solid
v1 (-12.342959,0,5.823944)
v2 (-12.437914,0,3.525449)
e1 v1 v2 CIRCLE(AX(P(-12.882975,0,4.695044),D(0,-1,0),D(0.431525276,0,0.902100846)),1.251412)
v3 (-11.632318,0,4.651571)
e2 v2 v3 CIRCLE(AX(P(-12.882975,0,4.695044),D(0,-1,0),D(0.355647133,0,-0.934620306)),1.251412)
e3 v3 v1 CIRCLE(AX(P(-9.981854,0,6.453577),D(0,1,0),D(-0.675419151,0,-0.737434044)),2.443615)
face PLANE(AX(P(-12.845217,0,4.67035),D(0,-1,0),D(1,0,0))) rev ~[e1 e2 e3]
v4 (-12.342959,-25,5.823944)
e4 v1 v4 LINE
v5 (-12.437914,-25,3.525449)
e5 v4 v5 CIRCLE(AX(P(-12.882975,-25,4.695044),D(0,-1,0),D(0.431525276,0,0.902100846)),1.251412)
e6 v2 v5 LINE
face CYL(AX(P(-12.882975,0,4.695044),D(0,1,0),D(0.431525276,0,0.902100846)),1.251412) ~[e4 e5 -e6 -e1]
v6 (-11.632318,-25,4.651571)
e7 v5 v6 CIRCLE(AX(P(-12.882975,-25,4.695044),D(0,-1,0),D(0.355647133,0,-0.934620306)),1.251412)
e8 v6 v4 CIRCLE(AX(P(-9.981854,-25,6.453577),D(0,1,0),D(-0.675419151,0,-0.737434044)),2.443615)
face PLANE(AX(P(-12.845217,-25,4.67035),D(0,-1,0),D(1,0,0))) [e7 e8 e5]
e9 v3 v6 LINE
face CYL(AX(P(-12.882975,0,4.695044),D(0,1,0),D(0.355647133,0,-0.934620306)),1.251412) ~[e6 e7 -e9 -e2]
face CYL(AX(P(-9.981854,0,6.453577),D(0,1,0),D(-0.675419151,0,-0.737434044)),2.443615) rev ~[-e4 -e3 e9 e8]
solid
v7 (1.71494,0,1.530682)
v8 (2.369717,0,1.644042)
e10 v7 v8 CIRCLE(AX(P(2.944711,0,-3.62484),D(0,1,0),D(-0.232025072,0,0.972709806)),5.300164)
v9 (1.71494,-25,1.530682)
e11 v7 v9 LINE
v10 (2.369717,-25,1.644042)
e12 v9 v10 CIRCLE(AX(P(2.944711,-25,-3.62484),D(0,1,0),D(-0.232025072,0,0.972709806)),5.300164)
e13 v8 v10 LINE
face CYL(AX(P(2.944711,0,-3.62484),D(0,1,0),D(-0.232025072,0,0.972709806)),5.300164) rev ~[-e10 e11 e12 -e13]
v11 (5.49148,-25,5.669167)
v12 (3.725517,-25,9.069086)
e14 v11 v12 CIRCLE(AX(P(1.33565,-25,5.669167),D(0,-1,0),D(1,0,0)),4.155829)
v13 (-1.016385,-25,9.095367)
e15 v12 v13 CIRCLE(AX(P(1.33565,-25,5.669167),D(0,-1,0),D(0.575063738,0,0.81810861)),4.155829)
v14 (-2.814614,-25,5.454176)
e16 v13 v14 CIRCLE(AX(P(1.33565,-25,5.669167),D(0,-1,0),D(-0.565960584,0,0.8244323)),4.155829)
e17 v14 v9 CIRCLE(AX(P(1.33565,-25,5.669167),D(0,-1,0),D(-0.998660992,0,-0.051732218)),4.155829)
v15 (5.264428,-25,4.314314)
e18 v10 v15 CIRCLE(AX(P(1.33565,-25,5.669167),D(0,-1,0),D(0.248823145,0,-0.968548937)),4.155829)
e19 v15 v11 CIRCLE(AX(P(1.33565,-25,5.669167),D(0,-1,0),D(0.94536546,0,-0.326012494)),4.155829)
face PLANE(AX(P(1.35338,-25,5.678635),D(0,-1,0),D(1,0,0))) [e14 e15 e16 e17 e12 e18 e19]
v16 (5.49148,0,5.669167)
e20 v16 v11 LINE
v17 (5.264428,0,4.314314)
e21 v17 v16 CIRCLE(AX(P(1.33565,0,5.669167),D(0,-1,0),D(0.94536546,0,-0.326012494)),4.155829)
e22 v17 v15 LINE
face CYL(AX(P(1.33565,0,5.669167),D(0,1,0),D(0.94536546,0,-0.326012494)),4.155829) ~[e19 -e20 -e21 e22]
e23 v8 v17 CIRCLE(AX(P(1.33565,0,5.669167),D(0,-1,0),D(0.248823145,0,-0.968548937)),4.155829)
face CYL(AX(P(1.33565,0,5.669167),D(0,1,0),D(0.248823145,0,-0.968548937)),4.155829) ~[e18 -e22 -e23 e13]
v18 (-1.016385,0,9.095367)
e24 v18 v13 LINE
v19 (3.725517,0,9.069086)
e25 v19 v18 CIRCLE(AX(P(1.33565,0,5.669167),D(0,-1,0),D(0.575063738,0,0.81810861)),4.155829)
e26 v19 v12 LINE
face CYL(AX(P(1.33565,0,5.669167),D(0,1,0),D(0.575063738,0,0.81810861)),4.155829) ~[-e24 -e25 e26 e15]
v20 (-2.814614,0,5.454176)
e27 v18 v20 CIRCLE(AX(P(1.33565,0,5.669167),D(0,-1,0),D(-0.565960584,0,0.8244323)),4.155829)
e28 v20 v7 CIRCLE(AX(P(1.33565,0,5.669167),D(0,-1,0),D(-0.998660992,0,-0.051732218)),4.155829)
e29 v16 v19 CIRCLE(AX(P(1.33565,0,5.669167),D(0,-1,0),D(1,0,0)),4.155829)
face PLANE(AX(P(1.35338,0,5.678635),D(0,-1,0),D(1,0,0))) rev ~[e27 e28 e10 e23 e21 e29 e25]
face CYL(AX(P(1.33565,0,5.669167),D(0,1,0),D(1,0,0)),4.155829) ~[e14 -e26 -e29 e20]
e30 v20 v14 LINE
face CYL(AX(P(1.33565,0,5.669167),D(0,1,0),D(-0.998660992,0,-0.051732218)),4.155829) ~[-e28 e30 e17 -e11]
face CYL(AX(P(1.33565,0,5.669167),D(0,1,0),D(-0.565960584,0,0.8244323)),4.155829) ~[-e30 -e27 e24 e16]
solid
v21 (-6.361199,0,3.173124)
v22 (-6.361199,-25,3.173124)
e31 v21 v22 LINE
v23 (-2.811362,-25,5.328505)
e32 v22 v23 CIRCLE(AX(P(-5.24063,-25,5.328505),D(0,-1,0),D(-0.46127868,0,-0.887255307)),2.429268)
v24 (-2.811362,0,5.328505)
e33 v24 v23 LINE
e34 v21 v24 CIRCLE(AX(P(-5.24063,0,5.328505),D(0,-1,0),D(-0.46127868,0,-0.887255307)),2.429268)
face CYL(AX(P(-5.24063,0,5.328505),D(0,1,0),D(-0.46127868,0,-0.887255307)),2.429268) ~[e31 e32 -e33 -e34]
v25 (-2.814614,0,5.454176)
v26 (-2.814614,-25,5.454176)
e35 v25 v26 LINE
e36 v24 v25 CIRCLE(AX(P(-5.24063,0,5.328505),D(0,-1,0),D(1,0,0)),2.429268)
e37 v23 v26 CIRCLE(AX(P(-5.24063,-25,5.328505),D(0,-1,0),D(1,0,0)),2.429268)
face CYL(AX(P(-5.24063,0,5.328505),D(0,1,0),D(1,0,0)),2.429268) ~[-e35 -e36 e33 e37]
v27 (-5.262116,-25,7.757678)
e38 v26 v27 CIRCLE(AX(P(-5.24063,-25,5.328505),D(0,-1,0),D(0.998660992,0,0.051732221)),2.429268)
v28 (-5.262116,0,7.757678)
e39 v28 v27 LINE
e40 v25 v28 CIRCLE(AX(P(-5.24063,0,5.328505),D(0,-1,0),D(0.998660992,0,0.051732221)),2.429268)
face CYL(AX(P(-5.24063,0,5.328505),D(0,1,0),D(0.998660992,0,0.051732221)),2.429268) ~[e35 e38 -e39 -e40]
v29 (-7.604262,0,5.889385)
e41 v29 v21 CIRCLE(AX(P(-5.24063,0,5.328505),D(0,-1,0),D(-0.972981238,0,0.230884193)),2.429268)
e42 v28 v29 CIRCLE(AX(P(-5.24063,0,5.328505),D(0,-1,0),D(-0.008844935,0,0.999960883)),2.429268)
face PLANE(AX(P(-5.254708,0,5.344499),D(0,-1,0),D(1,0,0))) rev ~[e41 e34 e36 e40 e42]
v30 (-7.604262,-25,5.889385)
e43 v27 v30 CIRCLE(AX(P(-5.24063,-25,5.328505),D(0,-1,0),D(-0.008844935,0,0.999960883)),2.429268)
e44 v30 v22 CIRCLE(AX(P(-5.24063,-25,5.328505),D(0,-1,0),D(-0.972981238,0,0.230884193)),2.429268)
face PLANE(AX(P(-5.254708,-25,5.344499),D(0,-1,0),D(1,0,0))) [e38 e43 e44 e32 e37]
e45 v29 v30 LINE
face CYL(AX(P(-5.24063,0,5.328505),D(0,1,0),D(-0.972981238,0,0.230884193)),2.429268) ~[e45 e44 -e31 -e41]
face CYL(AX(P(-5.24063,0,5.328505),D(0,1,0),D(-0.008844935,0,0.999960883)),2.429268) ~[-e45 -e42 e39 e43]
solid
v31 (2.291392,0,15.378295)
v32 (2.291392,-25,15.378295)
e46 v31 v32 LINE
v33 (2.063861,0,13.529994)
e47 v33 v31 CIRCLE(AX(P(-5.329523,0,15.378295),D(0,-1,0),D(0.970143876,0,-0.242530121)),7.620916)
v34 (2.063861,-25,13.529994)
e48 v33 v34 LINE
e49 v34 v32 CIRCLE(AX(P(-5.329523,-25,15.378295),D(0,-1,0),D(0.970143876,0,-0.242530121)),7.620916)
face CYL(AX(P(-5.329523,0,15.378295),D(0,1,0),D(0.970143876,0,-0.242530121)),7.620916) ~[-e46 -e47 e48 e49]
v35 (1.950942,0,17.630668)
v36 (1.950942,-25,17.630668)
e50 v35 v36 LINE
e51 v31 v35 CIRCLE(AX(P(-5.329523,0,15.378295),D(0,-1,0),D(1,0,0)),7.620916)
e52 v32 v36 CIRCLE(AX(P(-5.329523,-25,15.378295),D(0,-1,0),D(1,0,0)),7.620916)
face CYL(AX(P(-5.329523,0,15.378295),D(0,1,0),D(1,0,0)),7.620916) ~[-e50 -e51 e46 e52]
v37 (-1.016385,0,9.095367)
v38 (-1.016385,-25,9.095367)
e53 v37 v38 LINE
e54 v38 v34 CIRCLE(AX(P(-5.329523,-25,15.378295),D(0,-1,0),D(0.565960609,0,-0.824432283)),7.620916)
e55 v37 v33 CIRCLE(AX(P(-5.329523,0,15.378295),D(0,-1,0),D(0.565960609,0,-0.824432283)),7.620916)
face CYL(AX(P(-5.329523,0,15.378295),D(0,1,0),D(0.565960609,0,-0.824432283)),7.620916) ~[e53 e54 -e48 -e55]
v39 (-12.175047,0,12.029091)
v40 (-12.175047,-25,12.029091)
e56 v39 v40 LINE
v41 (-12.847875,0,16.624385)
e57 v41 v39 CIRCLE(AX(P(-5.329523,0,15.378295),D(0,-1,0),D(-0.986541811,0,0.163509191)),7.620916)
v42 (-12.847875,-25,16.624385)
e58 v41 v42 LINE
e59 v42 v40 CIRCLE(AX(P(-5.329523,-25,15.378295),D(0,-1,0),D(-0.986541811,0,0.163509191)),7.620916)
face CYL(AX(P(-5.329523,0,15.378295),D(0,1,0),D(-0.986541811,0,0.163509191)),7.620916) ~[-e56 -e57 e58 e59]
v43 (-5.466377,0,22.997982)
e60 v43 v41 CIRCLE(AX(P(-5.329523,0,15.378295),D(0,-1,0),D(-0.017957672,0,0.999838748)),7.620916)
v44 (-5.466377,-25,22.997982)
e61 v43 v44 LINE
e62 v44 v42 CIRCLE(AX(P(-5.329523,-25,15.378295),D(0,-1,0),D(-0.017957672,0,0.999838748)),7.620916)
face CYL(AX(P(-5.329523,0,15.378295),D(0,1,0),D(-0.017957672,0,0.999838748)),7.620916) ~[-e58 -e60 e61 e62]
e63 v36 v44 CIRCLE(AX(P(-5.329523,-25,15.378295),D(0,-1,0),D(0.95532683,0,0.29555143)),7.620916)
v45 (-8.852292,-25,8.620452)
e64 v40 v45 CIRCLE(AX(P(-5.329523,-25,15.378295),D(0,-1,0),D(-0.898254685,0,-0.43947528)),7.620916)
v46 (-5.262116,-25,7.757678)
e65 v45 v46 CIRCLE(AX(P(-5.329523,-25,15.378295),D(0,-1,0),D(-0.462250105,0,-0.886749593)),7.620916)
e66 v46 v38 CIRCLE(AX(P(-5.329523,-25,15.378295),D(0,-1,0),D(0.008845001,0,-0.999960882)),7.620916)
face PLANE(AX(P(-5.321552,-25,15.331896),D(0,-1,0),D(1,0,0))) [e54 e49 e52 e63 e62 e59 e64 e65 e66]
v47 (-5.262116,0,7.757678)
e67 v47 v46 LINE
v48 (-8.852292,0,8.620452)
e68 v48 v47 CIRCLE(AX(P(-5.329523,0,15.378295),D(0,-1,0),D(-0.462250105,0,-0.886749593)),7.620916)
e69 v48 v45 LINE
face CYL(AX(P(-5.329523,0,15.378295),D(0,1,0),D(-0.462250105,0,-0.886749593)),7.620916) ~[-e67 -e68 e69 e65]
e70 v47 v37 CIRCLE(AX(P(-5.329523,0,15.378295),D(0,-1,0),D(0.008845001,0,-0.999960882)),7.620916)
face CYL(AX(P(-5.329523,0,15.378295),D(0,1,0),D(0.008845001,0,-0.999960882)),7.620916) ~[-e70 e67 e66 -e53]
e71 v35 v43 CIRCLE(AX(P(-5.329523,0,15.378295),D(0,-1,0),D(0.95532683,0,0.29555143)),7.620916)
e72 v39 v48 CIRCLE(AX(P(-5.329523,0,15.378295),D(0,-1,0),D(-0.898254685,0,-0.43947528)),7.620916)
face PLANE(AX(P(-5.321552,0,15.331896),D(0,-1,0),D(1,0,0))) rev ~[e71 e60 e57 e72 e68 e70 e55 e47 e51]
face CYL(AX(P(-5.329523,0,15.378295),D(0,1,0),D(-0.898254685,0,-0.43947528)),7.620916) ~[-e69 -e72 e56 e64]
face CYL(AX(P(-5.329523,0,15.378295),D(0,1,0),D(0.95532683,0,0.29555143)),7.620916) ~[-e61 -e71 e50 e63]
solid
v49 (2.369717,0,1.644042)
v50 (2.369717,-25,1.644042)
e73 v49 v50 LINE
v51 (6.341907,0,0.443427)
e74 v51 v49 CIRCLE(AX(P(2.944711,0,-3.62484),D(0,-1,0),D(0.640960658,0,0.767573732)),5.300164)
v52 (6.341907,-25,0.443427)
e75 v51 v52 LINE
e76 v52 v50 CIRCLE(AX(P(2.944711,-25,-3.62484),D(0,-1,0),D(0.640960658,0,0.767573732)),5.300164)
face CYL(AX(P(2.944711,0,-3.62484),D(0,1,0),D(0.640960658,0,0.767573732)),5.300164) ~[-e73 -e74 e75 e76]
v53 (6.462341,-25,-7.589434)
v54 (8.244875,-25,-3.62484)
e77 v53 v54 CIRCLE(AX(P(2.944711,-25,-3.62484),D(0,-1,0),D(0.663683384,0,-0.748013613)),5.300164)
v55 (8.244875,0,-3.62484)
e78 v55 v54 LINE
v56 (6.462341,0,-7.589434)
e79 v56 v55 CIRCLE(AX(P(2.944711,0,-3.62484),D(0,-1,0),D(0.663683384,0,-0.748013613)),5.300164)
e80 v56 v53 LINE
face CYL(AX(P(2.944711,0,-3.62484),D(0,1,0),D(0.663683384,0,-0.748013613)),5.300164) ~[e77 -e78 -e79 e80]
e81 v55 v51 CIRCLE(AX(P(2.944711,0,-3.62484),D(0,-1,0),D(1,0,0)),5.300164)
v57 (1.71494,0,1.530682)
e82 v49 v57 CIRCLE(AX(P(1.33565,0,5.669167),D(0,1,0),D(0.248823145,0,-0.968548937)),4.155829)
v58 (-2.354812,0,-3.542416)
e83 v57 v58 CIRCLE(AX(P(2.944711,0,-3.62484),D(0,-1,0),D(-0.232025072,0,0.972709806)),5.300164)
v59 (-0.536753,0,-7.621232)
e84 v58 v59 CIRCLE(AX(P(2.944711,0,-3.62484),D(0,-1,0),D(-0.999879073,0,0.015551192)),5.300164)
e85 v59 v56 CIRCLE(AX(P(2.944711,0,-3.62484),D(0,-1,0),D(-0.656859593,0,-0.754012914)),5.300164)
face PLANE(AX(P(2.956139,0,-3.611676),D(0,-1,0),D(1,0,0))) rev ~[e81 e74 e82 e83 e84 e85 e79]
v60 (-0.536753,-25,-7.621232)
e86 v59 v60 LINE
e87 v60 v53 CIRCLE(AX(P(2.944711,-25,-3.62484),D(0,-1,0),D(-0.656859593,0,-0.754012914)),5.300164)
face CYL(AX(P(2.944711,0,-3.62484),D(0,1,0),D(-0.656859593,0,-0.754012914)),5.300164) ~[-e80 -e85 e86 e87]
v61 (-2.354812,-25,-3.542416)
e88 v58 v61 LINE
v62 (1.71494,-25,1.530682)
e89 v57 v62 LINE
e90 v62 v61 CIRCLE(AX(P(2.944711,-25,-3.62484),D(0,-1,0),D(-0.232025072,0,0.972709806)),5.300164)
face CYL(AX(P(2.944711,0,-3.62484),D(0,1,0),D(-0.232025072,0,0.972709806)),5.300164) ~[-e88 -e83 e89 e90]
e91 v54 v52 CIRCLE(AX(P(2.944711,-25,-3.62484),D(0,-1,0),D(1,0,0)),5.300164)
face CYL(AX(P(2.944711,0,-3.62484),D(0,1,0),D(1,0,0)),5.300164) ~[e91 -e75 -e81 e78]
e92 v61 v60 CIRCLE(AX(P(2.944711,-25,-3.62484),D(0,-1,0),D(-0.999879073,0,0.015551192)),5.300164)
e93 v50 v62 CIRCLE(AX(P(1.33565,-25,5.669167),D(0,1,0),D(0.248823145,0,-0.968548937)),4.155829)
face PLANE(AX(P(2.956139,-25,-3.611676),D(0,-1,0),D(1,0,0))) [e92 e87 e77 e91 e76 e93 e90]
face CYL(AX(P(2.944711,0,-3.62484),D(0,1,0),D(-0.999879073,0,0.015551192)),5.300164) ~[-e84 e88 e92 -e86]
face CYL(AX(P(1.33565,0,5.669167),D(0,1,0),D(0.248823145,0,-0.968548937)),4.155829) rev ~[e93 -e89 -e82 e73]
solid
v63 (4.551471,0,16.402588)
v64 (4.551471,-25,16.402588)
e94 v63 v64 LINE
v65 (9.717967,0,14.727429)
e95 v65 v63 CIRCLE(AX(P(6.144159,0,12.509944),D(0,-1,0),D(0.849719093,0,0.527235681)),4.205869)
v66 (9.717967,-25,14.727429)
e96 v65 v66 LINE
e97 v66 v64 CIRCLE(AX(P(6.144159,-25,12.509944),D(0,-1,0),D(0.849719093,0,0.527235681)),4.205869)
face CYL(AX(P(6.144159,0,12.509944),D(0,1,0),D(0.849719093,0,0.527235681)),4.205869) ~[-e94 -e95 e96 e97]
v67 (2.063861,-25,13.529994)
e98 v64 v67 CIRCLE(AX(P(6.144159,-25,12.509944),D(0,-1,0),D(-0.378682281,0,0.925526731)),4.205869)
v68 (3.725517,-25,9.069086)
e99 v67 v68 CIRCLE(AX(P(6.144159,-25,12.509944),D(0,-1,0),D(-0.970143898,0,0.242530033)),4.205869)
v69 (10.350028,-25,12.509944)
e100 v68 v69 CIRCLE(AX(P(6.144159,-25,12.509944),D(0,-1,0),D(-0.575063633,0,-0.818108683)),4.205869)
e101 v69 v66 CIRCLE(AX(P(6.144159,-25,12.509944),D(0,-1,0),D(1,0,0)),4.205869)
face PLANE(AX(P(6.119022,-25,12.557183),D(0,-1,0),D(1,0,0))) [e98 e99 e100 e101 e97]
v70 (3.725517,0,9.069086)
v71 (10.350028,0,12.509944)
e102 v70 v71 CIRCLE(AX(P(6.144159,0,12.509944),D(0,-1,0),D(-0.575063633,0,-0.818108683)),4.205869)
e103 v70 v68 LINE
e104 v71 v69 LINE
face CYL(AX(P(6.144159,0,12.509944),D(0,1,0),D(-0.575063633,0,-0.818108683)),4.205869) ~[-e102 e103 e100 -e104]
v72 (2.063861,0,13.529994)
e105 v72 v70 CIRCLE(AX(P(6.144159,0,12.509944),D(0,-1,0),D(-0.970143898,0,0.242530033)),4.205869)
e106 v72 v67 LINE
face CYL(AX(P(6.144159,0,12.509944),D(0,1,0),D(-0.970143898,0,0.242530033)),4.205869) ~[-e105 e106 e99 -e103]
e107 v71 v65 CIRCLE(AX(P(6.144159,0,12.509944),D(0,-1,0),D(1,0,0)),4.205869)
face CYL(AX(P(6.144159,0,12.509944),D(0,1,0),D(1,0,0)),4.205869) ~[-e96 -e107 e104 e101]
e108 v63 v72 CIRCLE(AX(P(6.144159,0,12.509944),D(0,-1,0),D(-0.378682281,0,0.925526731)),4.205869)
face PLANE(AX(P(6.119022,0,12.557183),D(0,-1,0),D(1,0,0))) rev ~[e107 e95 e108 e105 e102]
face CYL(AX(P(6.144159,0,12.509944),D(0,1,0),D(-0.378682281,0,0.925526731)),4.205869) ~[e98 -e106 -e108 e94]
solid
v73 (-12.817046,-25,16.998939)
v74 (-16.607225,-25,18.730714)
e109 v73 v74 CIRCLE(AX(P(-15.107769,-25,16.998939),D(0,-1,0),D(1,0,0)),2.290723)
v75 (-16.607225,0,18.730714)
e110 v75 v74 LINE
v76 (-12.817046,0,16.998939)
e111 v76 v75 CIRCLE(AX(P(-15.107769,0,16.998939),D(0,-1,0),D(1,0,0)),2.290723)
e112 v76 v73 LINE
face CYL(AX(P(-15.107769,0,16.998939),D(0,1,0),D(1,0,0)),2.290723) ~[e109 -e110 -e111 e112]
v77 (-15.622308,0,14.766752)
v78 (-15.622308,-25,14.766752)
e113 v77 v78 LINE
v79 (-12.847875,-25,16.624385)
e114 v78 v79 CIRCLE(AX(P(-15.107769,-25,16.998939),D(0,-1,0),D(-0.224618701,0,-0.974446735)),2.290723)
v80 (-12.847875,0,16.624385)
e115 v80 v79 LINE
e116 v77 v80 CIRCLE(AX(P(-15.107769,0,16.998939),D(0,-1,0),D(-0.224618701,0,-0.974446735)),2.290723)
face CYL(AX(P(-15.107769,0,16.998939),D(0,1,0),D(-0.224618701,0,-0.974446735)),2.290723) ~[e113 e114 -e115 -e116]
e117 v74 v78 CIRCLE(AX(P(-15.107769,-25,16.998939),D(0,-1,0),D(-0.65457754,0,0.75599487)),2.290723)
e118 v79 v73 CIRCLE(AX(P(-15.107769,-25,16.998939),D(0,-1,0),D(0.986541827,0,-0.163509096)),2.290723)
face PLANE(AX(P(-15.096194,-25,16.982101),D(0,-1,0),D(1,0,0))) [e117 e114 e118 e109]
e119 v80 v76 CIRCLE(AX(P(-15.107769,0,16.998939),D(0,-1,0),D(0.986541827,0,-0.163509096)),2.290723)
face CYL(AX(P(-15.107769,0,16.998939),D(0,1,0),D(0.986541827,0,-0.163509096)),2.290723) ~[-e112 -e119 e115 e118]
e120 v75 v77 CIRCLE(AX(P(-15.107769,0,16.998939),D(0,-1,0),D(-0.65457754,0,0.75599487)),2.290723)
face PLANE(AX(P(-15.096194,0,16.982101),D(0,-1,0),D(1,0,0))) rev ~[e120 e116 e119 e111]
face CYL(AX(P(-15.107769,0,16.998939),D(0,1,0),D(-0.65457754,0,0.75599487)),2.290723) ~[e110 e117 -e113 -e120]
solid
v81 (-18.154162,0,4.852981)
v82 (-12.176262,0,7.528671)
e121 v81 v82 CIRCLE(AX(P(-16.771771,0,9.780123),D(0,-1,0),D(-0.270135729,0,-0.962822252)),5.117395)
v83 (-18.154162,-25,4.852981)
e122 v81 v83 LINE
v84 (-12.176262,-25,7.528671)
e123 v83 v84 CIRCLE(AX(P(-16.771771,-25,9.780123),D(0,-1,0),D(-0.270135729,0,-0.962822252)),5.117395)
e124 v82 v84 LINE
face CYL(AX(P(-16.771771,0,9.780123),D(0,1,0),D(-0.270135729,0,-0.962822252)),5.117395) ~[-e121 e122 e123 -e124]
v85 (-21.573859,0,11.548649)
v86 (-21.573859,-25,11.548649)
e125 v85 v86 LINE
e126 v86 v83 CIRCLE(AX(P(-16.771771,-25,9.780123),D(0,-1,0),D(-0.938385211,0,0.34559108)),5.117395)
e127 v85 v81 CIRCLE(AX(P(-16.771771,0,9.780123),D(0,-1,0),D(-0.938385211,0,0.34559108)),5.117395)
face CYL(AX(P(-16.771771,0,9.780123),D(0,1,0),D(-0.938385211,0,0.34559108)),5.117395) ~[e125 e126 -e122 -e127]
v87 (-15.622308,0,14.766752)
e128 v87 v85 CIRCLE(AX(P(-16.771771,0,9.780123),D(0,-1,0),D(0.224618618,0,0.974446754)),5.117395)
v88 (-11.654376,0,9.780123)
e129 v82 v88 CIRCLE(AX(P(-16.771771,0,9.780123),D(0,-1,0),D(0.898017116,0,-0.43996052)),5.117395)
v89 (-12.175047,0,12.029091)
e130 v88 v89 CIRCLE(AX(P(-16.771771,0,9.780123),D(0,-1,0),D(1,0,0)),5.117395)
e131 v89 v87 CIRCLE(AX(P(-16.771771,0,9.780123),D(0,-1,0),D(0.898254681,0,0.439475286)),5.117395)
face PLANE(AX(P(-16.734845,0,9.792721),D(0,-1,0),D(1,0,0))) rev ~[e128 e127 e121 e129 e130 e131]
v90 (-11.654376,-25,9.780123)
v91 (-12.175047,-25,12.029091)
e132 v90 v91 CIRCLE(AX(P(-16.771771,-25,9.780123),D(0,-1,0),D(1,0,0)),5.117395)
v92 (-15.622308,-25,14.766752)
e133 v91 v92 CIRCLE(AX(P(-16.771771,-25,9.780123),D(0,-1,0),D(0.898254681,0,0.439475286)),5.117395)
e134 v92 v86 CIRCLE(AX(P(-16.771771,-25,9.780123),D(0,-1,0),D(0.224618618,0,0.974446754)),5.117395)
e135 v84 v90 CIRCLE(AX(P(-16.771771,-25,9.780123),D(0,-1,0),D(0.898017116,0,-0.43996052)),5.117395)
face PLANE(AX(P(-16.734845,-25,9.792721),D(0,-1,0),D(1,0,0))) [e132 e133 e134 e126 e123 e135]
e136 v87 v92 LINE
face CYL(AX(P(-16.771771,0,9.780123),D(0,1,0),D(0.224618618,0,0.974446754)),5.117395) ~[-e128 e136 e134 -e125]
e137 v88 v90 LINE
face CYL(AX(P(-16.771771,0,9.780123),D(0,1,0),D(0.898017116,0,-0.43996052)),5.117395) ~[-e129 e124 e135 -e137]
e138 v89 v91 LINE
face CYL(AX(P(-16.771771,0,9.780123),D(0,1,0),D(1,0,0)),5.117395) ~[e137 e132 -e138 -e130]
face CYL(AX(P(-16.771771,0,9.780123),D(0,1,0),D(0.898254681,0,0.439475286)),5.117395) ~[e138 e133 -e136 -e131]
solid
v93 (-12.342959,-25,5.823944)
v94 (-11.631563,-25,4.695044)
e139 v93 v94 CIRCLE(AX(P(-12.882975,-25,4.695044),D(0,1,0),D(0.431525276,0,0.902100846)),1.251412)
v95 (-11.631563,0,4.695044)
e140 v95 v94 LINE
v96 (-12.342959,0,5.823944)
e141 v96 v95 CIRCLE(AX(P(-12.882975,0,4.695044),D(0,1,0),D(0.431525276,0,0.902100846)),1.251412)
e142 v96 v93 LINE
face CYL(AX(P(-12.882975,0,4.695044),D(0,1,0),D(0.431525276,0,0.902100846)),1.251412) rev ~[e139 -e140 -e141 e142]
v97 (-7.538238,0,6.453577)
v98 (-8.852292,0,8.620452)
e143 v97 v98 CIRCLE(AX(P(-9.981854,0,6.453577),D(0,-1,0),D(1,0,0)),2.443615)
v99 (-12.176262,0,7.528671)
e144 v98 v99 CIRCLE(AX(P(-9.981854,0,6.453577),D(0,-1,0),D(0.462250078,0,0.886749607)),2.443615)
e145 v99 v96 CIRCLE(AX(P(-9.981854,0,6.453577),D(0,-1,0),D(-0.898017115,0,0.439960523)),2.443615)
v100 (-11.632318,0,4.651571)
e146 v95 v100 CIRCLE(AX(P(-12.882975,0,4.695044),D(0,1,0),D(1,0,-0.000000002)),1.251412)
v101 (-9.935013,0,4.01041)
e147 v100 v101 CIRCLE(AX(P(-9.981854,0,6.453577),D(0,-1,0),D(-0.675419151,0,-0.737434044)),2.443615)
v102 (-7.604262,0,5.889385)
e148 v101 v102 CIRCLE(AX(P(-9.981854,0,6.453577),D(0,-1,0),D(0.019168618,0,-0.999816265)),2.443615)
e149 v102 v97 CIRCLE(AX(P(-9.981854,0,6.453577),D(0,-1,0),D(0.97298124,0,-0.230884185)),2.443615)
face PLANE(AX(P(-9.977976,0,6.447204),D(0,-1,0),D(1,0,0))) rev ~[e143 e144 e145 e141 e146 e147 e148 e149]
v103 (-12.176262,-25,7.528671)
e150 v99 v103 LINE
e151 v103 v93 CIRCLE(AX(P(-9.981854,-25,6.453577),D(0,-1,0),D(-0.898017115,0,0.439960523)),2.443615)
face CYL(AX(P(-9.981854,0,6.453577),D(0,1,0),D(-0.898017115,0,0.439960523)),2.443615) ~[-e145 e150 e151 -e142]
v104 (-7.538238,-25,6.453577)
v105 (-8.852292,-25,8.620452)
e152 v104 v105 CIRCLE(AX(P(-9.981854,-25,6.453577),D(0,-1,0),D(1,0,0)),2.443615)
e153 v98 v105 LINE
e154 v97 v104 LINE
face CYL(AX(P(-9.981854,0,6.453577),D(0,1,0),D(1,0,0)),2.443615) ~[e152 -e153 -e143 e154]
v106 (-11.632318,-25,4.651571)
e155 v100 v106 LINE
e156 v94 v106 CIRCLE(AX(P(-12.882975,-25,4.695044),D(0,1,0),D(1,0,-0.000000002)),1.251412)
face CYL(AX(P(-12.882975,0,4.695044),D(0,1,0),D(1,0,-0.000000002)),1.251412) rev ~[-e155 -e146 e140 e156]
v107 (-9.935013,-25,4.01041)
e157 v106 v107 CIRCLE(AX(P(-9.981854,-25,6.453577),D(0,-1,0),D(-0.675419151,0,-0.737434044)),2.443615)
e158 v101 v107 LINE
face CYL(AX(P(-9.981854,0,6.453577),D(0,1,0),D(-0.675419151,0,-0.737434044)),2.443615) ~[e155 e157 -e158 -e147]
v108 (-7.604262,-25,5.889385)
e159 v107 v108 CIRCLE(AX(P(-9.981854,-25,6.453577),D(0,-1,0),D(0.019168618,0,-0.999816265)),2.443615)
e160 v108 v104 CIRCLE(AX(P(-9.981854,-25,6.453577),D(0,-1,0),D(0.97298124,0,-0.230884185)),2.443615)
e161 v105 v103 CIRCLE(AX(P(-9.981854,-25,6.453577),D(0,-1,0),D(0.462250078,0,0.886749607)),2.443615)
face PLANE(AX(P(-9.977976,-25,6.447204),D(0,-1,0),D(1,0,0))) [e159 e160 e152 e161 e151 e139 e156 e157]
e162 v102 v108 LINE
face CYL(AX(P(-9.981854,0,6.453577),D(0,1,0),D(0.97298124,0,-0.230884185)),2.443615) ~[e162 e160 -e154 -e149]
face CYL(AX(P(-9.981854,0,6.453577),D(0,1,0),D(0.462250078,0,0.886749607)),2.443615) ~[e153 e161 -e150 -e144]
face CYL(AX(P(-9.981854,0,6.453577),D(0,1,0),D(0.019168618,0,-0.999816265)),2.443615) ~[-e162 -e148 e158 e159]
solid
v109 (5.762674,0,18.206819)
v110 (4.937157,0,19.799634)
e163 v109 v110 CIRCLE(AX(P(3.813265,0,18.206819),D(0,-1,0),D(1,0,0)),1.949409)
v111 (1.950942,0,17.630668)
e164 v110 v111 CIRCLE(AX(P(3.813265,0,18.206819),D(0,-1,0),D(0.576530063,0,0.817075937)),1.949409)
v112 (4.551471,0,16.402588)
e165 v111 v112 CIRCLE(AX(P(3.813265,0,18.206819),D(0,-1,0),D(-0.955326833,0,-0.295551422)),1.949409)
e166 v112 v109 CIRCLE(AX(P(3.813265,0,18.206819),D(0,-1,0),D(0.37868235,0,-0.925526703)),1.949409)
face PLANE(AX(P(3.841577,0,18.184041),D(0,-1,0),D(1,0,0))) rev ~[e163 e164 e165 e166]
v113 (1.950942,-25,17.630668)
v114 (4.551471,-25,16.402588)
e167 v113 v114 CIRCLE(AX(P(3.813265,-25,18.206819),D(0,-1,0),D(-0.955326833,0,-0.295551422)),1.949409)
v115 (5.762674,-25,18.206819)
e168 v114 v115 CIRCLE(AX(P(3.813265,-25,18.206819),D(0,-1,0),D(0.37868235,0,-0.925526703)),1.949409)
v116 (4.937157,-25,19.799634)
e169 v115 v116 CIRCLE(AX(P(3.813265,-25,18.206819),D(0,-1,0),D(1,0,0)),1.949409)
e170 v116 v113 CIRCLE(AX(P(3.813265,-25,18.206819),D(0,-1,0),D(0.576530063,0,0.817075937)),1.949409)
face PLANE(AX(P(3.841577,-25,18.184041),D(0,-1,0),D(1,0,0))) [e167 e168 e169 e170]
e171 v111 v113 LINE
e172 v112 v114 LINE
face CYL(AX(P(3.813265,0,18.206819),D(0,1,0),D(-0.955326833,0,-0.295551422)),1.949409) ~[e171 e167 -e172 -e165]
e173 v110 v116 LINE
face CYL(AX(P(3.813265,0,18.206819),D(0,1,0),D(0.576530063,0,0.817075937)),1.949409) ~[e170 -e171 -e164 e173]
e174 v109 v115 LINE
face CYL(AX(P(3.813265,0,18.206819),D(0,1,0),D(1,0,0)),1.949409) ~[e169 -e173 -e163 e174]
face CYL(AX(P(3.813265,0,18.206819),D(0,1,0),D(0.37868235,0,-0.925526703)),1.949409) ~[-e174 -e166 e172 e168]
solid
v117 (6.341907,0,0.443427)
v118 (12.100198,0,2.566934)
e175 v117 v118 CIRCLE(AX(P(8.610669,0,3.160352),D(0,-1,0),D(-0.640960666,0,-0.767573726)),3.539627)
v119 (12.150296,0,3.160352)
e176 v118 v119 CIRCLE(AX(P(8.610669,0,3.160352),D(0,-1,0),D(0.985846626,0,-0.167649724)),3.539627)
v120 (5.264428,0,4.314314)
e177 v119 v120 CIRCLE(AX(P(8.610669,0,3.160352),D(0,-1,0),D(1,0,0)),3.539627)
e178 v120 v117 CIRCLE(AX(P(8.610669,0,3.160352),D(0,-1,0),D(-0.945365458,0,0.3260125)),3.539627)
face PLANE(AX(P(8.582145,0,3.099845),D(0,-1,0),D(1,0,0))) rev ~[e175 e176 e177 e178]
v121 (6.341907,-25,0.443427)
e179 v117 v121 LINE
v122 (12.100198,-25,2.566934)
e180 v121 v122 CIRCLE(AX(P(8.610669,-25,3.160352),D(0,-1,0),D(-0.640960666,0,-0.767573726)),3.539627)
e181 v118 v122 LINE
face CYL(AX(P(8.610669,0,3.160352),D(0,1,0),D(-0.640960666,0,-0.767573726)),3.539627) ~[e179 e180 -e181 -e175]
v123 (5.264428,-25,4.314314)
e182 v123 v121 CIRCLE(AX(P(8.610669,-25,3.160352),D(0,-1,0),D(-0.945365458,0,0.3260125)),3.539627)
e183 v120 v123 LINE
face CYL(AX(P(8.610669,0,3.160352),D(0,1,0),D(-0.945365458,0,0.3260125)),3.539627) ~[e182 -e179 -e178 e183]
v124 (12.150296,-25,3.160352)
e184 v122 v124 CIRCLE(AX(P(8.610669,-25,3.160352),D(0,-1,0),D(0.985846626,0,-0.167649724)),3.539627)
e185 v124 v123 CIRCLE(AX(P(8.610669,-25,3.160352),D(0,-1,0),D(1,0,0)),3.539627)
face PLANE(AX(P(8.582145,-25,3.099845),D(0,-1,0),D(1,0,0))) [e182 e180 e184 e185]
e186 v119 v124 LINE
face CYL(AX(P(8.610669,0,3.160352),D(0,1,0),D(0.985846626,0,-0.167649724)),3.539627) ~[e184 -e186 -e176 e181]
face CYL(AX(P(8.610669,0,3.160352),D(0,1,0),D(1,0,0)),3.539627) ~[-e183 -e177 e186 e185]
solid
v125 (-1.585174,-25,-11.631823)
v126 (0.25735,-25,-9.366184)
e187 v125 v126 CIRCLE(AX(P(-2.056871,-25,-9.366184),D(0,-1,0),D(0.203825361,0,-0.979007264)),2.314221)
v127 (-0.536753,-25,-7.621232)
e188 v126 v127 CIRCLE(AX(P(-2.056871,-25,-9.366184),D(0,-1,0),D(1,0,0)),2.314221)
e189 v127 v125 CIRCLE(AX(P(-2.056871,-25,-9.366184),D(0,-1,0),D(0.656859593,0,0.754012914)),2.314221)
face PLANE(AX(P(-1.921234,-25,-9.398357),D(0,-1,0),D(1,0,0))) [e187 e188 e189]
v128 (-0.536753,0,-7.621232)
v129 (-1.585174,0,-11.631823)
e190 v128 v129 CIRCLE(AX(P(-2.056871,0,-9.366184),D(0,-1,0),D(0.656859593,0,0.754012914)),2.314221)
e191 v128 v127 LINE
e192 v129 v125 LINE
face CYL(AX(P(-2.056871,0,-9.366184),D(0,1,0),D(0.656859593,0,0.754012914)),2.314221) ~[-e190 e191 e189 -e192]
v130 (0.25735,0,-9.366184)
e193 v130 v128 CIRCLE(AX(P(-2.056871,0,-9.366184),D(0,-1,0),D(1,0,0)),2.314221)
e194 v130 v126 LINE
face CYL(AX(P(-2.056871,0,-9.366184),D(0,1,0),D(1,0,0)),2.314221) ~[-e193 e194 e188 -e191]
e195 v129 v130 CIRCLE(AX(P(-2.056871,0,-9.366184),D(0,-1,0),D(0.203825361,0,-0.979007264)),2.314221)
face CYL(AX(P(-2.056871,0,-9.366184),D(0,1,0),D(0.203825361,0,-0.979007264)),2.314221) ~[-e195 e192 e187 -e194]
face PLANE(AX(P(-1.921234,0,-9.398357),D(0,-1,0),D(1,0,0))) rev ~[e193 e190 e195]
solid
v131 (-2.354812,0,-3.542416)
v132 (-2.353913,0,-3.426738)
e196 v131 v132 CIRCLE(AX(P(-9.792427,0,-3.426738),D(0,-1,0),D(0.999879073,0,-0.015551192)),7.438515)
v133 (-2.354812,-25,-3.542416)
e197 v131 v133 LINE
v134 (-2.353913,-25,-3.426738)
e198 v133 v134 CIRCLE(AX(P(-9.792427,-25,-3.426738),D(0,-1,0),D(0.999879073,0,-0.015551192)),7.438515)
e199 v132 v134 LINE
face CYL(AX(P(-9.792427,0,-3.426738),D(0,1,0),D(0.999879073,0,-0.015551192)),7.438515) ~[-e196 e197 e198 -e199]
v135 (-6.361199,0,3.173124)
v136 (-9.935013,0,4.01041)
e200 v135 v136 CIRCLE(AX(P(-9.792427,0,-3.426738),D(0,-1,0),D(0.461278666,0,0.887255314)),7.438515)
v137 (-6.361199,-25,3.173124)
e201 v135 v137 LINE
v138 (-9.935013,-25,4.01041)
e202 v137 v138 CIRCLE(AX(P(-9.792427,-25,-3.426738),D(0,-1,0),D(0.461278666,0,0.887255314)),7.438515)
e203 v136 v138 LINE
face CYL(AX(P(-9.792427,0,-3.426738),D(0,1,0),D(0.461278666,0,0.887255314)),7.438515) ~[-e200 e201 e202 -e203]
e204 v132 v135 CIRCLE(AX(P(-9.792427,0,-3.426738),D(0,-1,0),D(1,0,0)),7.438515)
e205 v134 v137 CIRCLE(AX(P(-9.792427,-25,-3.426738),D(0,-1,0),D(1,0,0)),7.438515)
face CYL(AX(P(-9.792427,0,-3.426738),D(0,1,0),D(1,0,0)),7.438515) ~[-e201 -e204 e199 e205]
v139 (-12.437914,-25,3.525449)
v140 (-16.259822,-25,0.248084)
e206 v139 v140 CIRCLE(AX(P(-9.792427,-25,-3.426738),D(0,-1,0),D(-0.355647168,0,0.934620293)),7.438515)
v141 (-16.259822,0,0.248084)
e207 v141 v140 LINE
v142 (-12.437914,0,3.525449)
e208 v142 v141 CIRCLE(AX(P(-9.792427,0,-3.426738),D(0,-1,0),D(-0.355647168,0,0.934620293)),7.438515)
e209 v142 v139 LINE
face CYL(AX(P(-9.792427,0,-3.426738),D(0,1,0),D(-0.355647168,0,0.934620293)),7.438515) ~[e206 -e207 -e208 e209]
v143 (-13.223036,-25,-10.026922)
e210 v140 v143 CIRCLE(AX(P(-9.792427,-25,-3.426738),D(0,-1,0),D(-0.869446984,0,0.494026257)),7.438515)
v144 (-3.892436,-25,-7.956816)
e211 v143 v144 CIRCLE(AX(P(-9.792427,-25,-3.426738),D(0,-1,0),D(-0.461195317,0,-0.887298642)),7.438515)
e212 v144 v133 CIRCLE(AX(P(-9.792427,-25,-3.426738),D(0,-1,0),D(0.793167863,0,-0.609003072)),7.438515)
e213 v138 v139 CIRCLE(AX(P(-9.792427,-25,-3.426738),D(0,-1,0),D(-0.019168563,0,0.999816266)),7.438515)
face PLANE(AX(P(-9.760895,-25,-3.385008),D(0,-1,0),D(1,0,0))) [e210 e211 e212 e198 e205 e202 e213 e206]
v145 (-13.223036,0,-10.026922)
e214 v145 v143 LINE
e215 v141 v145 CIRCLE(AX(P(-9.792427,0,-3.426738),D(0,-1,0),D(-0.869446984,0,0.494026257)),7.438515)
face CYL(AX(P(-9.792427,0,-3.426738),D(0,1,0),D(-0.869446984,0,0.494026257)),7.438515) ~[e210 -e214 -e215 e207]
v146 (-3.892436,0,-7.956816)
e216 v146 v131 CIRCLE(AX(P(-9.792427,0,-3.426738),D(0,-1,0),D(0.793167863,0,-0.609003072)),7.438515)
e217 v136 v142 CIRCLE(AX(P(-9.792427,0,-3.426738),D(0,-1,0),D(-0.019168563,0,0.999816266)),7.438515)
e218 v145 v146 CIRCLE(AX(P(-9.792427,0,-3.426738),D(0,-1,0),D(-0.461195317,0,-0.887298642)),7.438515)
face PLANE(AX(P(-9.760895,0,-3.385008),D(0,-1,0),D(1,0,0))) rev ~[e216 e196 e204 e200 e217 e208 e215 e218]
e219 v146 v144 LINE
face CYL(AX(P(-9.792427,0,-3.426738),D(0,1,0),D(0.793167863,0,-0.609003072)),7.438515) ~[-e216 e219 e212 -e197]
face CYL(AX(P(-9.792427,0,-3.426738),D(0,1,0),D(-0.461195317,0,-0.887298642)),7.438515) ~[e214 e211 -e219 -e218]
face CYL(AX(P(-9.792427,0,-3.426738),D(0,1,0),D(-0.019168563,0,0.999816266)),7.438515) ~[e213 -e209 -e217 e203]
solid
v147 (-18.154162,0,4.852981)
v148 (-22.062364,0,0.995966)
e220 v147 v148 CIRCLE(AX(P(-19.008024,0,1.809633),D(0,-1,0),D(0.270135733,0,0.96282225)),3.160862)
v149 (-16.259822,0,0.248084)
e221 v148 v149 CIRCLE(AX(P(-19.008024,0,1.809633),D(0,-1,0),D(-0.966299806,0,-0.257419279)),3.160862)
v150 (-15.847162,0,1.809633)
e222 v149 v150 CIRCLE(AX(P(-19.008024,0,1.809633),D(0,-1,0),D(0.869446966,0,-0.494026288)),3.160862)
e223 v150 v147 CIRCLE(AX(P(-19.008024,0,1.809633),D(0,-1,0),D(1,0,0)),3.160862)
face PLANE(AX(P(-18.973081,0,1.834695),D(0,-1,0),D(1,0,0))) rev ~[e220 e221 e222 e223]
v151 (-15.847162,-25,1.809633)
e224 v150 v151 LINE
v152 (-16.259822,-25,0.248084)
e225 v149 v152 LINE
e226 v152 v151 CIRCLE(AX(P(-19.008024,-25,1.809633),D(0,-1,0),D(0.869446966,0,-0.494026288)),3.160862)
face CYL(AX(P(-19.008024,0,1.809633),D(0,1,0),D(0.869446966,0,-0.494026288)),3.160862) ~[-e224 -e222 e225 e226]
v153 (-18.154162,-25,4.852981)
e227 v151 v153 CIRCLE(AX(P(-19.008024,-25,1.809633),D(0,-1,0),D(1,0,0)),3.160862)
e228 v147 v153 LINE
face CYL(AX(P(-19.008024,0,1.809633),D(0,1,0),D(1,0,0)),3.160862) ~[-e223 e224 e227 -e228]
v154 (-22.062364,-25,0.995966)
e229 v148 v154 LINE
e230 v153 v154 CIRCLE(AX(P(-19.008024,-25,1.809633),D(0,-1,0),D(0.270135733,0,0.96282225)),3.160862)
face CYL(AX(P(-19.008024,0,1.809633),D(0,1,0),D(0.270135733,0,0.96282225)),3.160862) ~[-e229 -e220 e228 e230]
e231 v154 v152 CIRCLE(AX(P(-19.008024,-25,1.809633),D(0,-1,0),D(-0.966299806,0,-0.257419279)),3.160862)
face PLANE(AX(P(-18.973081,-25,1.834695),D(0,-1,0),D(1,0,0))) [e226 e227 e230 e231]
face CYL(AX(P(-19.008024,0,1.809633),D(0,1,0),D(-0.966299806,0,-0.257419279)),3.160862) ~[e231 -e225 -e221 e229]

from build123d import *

# Parameters (mm, degrees)
F1_DEPTH = 25


with BuildPart() as f1:
    # F0 (on Front) → F1 (new body)
    with BuildSketch(Plane.XZ):
        with BuildLine():
            ThreePointArc((5.7626735296, 18.2068185772), (5.5440334867, 19.1038326622), (4.9371574202, 19.7996337666))
            ThreePointArc((4.9371574202, 19.7996337666), (2.6676542913, 19.7840860436), (1.950941795, 17.6306679741))
            ThreePointArc((1.950941795, 17.6306679741), (2.9808259559, 16.4440816437), (4.5514713081, 16.4025884885))
            ThreePointArc((4.5514713081, 16.4025884885), (5.4317920066, 17.120280838), (5.7626735296, 18.2068185772))
        make_face()
    extrude(amount=F1_DEPTH)


with BuildPart() as f1b:
    # F0 (on Front) → F1, piece 2 (new body)
    with BuildSketch(Plane.XZ):
        with BuildLine():
            ThreePointArc((-12.8170463238, 16.998939244), (-14.1557782115, 19.0824757789), (-16.6072249698, 18.7307139985))
            ThreePointArc((-16.6072249698, 18.7307139985), (-17.330896065, 16.4465640369), (-15.6223084147, 14.7667518025))
            ThreePointArc((-15.6223084147, 14.7667518025), (-13.8333021611, 15.0954831526), (-12.8478752698, 16.6243852154))
            ThreePointArc((-12.8478752698, 16.6243852154), (-12.8247665698, 16.8110289301), (-12.8170463238, 16.998939244))
        make_face()
    extrude(amount=F1_DEPTH)


with BuildPart() as f1c:
    # F0 (on Front) → F1, piece 3 (new body)
    with BuildSketch(Plane.XZ):
        with BuildLine():
            ThreePointArc((-18.1541618813, 4.8529809017), (-21.2283091664, 4.0593839103), (-22.0623639759, 0.9959658373))
            ThreePointArc((-22.0623639759, 0.9959658373), (-19.4120806995, -1.3252973975), (-16.2598217859, 0.2480837362))
            ThreePointArc((-16.2598217859, 0.2480837362), (-15.9520675559, 1.0020555041), (-15.8471616638, 1.8096326501))
            ThreePointArc((-15.8471616638, 1.8096326501), (-16.489096527, 3.7190971421), (-18.1541618813, 4.8529809017))
        make_face()
    extrude(amount=F1_DEPTH)


with BuildPart() as f1d:
    # F0 (on Front) → F1, piece 4 (new body)
    with BuildSketch(Plane.XZ):
        with BuildLine():
            ThreePointArc((6.3419072898, 0.4434269365), (9.8353686182, -0.1606527791), (12.1001983787, 2.5669341602))
            ThreePointArc((12.1001983787, 2.5669341602), (12.137749391, 2.862587446), (12.1502960439, 3.160351657))
            ThreePointArc((12.1502960439, 3.160351657), (9.195696333, 6.6512974662), (5.2644278529, 4.3143143187))
            ThreePointArc((5.2644278529, 4.3143143187), (5.2006827015, 2.2111661728), (6.3419072898, 0.4434269365))
        make_face()
    extrude(amount=F1_DEPTH)


with BuildPart() as f1e:
    # F0 (on Front) → F1, piece 5 (new body)
    with BuildSketch(Plane.XZ):
        with BuildLine():
            ThreePointArc((-3.8924364768, -7.9568163614), (-4.0168333131, -10.5966982185), (-1.5851739128, -11.6318230194))
            ThreePointArc((-1.5851739128, -11.6318230194), (-0.2614280959, -10.8263222218), (0.2573500675, -9.3661839612))
            ThreePointArc((0.2573500675, -9.3661839612), (0.0494894989, -8.4076097477), (-0.5367526285, -7.6212315266))
            ThreePointArc((-0.5367526285, -7.6212315266), (-2.2871555809, -7.06344923), (-3.8924364768, -7.9568163614))
        make_face()
    extrude(amount=F1_DEPTH)


with BuildPart() as f1f:
    # F0 (on Front) → F1, piece 6 (new body)
    with BuildSketch(Plane.XZ):
        with BuildLine():
            ThreePointArc((10.3500283219, 12.5099443379), (10.1889274826, 13.6628470044), (9.7179665193, 14.7274285231))
            ThreePointArc((9.7179665193, 14.7274285231), (7.4413673069, 16.5107674109), (4.5514713081, 16.4025884885))
            ThreePointArc((4.5514713081, 16.4025884885), (2.964750147, 15.2632497635), (2.0638612521, 13.5299938758))
            ThreePointArc((2.0638612521, 13.5299938758), (2.2028422722, 11.0418321751), (3.7255170757, 9.0690864198))
            ThreePointArc((3.7255170757, 9.0690864198), (8.0828240046, 8.7775304921), (10.3500283219, 12.5099443379))
        make_face()
    extrude(amount=F1_DEPTH)


with BuildPart() as f1g:
    # F0 (on Front) → F1, piece 7 (new body)
    with BuildSketch(Plane.XZ):
        with BuildLine():
            ThreePointArc((-15.6223084147, 14.7667518025), (-19.2057930579, 14.2815966741), (-21.5738585046, 11.548648865))
            ThreePointArc((-21.5738585046, 11.548648865), (-21.3291753608, 7.4525071112), (-18.1541618813, 4.8529809017))
            ThreePointArc((-18.1541618813, 4.8529809017), (-14.6811105069, 5.1092692274), (-12.1762622463, 7.5286709608))
            ThreePointArc((-12.1762622463, 7.5286709608), (-11.7865542561, 8.6245492106), (-11.654375537, 9.7801227662))
            ThreePointArc((-11.654375537, 9.7801227662), (-11.7862422785, 10.9343496046), (-12.1750465309, 12.0290914395))
            ThreePointArc((-12.1750465309, 12.0290914395), (-13.5892621294, 13.7875374163), (-15.6223084147, 14.7667518025))
        make_face()
    extrude(amount=F1_DEPTH)


with BuildPart() as f1h:
    # F0 (on Front) → F1, piece 8 (new body)
    with BuildSketch(Plane.XZ):
        with BuildLine():
            ThreePointArc((-0.5367526285, -7.6212315266), (2.9687895045, -8.9249486788), (6.4623414593, -7.589434247))
            ThreePointArc((6.4623414593, -7.589434247), (7.778744061, -5.7982835776), (8.2448746106, -3.624839573))
            ThreePointArc((8.2448746106, -3.624839573), (7.7456187511, -1.3791728003), (6.3419072898, 0.4434269365))
            ThreePointArc((6.3419072898, 0.4434269365), (4.4781957863, 1.448636567), (2.369716834, 1.6440424949))
            ThreePointArc((2.369716834, 1.6440424949), (2.0445978098, 1.57425377), (1.7149399217, 1.5306817276))
            ThreePointArc((1.7149399217, 1.5306817276), (-1.1895362356, -0.3082543281), (-2.354812058, -3.5424157068))
            ThreePointArc((-2.354812058, -3.5424157068), (-1.8963236613, -5.7826443764), (-0.5367526285, -7.6212315266))
        make_face()
    extrude(amount=F1_DEPTH)


with BuildPart() as f1i:
    # F0 (on Front) → F1, piece 9 (new body)
    with BuildSketch(Plane.XZ):
        with BuildLine():
            ThreePointArc((-16.2598217859, 0.2480837362), (-16.9259083599, -5.5350438662), (-13.2230356777, -10.0269221024))
            ThreePointArc((-13.2230356777, -10.0269221024), (-8.1812796487, -10.688673401), (-3.8924364768, -7.9568163614))
            ThreePointArc((-3.8924364768, -7.9568163614), (-2.7678513646, -5.8735388824), (-2.354812058, -3.5424157068))
            ThreePointArc((-2.354812058, -3.5424157068), (-2.3541374229, -3.4845785693), (-2.35391254, -3.4267379344))
            ThreePointArc((-2.35391254, -3.4267379344), (-3.4341750773, 0.4338489137), (-6.3611992123, 3.1731239408))
            ThreePointArc((-6.3611992123, 3.1731239408), (-8.0956497276, 3.8156683867), (-9.9350130843, 4.0104102597))
            ThreePointArc((-9.9350130843, 4.0104102597), (-11.2073952045, 3.8759581536), (-12.437914197, 3.5254490416))
            ThreePointArc((-12.437914197, 3.5254490416), (-14.6345789592, 2.2199489347), (-16.2598217859, 0.2480837362))
        make_face()
    extrude(amount=F1_DEPTH)


with BuildPart() as f1j:
    # F0 (on Front) → F1, piece 10 (new body)
    with BuildSketch(Plane.XZ):
        with BuildLine():
            ThreePointArc((1.950941795, 17.6306679741), (-0.8618829458, 21.5523171676), (-5.4663772752, 22.9979822013))
            ThreePointArc((-5.4663772752, 22.9979822013), (-10.3101085379, 21.1464950402), (-12.8478752698, 16.6243852154))
            ThreePointArc((-12.8478752698, 16.6243852154), (-12.8700411182, 14.2742361181), (-12.1750465309, 12.0290914395))
            ThreePointArc((-12.1750465309, 12.0290914395), (-10.7866358977, 10.0586829032), (-8.8522924145, 8.620451637))
            ThreePointArc((-8.8522924145, 8.620451637), (-7.1102469071, 7.9683441408), (-5.2621163668, 7.7576779549))
            ThreePointArc((-5.2621163668, 7.7576779549), (-3.0394040602, 8.1096154965), (-1.0163853263, 9.0953665977))
            ThreePointArc((-1.0163853263, 9.0953665977), (0.9296417504, 11.0307436332), (2.0638612521, 13.5299938758))
            ThreePointArc((2.0638612521, 13.5299938758), (2.2342956162, 14.4471685778), (2.2913922532, 15.3782954653))
            ThreePointArc((2.2913922532, 15.3782954653), (2.205798974, 16.5172740026), (1.950941795, 17.6306679741))
        make_face()
    extrude(amount=F1_DEPTH)


with BuildPart() as f1k:
    # F0 (on Front) → F1, piece 11 (new body)
    with BuildSketch(Plane.XZ):
        with BuildLine():
            ThreePointArc((-7.5382384361, 6.453576661), (-7.8924197134, 7.7206683131), (-8.8522924145, 8.620451637))
            ThreePointArc((-8.8522924145, 8.620451637), (-10.7443963127, 8.7751677225), (-12.1762622463, 7.5286709608))
            ThreePointArc((-12.1762622463, 7.5286709608), (-12.4138694439, 6.69139192), (-12.3429593573, 5.8239444391))
            ThreePointArc((-12.3429593573, 5.8239444391), (-11.8242461063, 5.3622212537), (-11.6315631088, 4.6950443663))
            ThreePointArc((-11.6315631088, 4.6950443663), (-11.6317519559, 4.6733046471), (-11.6323184401, 4.6515714894))
            ThreePointArc((-11.6323184401, 4.6515714894), (-10.8453781801, 4.1676235144), (-9.9350130843, 4.0104102597))
            ThreePointArc((-9.9350130843, 4.0104102597), (-8.4481965901, 4.5511698602), (-7.6042618941, 5.8893845148))
            ThreePointArc((-7.6042618941, 5.8893845148), (-7.5548004264, 6.1695555901), (-7.5382384361, 6.453576661))
        make_face()
    extrude(amount=F1_DEPTH)


with BuildPart() as f1l:
    # F0 (on Front) → F1, piece 12 (new body)
    with BuildSketch(Plane.XZ):
        with BuildLine():
            ThreePointArc((-12.3429593573, 5.8239444391), (-14.1333211582, 4.7466983233), (-12.437914197, 3.5254490416))
            ThreePointArc((-12.437914197, 3.5254490416), (-11.8651822142, 3.9669442726), (-11.6323184401, 4.6515714894))
            ThreePointArc((-11.6323184401, 4.6515714894), (-12.071540008, 5.186900802), (-12.3429593573, 5.8239444391))
        make_face()
    extrude(amount=F1_DEPTH)


with BuildPart() as f1m:
    # F0 (on Front) → F1, piece 13 (new body)
    with BuildSketch(Plane.XZ):
        with BuildLine():
            ThreePointArc((-2.8146143964, 5.4541763531), (-3.5757064446, 7.097508605), (-5.2621163668, 7.7576779549))
            ThreePointArc((-5.2621163668, 7.7576779549), (-6.7554986899, 7.2275876196), (-7.6042618941, 5.8893845148))
            ThreePointArc((-7.6042618941, 5.8893845148), (-7.4495736131, 4.3176093399), (-6.3611992123, 3.1731239408))
            ThreePointArc((-6.3611992123, 3.1731239408), (-3.9798403201, 3.2520286783), (-2.8113615874, 5.32850492))
            ThreePointArc((-2.8113615874, 5.32850492), (-2.8121749258, 5.3913616815), (-2.8146143964, 5.4541763531))
        make_face()
    extrude(amount=F1_DEPTH)


with BuildPart() as f1n:
    # F0 (on Front) → F1, piece 14 (new body)
    with BuildSketch(Plane.XZ):
        with BuildLine():
            ThreePointArc((5.4914796786, 5.6691666226), (5.0236576469, 7.5847656504), (3.7255170757, 9.0690864198))
            ThreePointArc((3.7255170757, 9.0690864198), (1.3586820364, 9.8249321819), (-1.0163853263, 9.0953665977))
            ThreePointArc((-1.0163853263, 9.0953665977), (-2.3905466853, 7.5093769069), (-2.8146143964, 5.4541763531))
            ThreePointArc((-2.8146143964, 5.4541763531), (-1.3852899376, 2.5279244985), (1.7149399217, 1.5306817276))
            ThreePointArc((1.7149399217, 1.5306817276), (2.040550028, 1.5976339404), (2.369716834, 1.6440424949))
            ThreePointArc((2.369716834, 1.6440424949), (4.1534585368, 2.6145185951), (5.2644278529, 4.3143143187))
            ThreePointArc((5.2644278529, 4.3143143187), (5.4343236829, 4.9822937637), (5.4914796786, 5.6691666226))
        make_face()
    extrude(amount=F1_DEPTH)


solid = Compound([f1.part, f1b.part, f1c.part, f1d.part, f1e.part, f1f.part, f1g.part, f1h.part, f1i.part, f1j.part, f1k.part, f1l.part, f1m.part, f1n.part])
